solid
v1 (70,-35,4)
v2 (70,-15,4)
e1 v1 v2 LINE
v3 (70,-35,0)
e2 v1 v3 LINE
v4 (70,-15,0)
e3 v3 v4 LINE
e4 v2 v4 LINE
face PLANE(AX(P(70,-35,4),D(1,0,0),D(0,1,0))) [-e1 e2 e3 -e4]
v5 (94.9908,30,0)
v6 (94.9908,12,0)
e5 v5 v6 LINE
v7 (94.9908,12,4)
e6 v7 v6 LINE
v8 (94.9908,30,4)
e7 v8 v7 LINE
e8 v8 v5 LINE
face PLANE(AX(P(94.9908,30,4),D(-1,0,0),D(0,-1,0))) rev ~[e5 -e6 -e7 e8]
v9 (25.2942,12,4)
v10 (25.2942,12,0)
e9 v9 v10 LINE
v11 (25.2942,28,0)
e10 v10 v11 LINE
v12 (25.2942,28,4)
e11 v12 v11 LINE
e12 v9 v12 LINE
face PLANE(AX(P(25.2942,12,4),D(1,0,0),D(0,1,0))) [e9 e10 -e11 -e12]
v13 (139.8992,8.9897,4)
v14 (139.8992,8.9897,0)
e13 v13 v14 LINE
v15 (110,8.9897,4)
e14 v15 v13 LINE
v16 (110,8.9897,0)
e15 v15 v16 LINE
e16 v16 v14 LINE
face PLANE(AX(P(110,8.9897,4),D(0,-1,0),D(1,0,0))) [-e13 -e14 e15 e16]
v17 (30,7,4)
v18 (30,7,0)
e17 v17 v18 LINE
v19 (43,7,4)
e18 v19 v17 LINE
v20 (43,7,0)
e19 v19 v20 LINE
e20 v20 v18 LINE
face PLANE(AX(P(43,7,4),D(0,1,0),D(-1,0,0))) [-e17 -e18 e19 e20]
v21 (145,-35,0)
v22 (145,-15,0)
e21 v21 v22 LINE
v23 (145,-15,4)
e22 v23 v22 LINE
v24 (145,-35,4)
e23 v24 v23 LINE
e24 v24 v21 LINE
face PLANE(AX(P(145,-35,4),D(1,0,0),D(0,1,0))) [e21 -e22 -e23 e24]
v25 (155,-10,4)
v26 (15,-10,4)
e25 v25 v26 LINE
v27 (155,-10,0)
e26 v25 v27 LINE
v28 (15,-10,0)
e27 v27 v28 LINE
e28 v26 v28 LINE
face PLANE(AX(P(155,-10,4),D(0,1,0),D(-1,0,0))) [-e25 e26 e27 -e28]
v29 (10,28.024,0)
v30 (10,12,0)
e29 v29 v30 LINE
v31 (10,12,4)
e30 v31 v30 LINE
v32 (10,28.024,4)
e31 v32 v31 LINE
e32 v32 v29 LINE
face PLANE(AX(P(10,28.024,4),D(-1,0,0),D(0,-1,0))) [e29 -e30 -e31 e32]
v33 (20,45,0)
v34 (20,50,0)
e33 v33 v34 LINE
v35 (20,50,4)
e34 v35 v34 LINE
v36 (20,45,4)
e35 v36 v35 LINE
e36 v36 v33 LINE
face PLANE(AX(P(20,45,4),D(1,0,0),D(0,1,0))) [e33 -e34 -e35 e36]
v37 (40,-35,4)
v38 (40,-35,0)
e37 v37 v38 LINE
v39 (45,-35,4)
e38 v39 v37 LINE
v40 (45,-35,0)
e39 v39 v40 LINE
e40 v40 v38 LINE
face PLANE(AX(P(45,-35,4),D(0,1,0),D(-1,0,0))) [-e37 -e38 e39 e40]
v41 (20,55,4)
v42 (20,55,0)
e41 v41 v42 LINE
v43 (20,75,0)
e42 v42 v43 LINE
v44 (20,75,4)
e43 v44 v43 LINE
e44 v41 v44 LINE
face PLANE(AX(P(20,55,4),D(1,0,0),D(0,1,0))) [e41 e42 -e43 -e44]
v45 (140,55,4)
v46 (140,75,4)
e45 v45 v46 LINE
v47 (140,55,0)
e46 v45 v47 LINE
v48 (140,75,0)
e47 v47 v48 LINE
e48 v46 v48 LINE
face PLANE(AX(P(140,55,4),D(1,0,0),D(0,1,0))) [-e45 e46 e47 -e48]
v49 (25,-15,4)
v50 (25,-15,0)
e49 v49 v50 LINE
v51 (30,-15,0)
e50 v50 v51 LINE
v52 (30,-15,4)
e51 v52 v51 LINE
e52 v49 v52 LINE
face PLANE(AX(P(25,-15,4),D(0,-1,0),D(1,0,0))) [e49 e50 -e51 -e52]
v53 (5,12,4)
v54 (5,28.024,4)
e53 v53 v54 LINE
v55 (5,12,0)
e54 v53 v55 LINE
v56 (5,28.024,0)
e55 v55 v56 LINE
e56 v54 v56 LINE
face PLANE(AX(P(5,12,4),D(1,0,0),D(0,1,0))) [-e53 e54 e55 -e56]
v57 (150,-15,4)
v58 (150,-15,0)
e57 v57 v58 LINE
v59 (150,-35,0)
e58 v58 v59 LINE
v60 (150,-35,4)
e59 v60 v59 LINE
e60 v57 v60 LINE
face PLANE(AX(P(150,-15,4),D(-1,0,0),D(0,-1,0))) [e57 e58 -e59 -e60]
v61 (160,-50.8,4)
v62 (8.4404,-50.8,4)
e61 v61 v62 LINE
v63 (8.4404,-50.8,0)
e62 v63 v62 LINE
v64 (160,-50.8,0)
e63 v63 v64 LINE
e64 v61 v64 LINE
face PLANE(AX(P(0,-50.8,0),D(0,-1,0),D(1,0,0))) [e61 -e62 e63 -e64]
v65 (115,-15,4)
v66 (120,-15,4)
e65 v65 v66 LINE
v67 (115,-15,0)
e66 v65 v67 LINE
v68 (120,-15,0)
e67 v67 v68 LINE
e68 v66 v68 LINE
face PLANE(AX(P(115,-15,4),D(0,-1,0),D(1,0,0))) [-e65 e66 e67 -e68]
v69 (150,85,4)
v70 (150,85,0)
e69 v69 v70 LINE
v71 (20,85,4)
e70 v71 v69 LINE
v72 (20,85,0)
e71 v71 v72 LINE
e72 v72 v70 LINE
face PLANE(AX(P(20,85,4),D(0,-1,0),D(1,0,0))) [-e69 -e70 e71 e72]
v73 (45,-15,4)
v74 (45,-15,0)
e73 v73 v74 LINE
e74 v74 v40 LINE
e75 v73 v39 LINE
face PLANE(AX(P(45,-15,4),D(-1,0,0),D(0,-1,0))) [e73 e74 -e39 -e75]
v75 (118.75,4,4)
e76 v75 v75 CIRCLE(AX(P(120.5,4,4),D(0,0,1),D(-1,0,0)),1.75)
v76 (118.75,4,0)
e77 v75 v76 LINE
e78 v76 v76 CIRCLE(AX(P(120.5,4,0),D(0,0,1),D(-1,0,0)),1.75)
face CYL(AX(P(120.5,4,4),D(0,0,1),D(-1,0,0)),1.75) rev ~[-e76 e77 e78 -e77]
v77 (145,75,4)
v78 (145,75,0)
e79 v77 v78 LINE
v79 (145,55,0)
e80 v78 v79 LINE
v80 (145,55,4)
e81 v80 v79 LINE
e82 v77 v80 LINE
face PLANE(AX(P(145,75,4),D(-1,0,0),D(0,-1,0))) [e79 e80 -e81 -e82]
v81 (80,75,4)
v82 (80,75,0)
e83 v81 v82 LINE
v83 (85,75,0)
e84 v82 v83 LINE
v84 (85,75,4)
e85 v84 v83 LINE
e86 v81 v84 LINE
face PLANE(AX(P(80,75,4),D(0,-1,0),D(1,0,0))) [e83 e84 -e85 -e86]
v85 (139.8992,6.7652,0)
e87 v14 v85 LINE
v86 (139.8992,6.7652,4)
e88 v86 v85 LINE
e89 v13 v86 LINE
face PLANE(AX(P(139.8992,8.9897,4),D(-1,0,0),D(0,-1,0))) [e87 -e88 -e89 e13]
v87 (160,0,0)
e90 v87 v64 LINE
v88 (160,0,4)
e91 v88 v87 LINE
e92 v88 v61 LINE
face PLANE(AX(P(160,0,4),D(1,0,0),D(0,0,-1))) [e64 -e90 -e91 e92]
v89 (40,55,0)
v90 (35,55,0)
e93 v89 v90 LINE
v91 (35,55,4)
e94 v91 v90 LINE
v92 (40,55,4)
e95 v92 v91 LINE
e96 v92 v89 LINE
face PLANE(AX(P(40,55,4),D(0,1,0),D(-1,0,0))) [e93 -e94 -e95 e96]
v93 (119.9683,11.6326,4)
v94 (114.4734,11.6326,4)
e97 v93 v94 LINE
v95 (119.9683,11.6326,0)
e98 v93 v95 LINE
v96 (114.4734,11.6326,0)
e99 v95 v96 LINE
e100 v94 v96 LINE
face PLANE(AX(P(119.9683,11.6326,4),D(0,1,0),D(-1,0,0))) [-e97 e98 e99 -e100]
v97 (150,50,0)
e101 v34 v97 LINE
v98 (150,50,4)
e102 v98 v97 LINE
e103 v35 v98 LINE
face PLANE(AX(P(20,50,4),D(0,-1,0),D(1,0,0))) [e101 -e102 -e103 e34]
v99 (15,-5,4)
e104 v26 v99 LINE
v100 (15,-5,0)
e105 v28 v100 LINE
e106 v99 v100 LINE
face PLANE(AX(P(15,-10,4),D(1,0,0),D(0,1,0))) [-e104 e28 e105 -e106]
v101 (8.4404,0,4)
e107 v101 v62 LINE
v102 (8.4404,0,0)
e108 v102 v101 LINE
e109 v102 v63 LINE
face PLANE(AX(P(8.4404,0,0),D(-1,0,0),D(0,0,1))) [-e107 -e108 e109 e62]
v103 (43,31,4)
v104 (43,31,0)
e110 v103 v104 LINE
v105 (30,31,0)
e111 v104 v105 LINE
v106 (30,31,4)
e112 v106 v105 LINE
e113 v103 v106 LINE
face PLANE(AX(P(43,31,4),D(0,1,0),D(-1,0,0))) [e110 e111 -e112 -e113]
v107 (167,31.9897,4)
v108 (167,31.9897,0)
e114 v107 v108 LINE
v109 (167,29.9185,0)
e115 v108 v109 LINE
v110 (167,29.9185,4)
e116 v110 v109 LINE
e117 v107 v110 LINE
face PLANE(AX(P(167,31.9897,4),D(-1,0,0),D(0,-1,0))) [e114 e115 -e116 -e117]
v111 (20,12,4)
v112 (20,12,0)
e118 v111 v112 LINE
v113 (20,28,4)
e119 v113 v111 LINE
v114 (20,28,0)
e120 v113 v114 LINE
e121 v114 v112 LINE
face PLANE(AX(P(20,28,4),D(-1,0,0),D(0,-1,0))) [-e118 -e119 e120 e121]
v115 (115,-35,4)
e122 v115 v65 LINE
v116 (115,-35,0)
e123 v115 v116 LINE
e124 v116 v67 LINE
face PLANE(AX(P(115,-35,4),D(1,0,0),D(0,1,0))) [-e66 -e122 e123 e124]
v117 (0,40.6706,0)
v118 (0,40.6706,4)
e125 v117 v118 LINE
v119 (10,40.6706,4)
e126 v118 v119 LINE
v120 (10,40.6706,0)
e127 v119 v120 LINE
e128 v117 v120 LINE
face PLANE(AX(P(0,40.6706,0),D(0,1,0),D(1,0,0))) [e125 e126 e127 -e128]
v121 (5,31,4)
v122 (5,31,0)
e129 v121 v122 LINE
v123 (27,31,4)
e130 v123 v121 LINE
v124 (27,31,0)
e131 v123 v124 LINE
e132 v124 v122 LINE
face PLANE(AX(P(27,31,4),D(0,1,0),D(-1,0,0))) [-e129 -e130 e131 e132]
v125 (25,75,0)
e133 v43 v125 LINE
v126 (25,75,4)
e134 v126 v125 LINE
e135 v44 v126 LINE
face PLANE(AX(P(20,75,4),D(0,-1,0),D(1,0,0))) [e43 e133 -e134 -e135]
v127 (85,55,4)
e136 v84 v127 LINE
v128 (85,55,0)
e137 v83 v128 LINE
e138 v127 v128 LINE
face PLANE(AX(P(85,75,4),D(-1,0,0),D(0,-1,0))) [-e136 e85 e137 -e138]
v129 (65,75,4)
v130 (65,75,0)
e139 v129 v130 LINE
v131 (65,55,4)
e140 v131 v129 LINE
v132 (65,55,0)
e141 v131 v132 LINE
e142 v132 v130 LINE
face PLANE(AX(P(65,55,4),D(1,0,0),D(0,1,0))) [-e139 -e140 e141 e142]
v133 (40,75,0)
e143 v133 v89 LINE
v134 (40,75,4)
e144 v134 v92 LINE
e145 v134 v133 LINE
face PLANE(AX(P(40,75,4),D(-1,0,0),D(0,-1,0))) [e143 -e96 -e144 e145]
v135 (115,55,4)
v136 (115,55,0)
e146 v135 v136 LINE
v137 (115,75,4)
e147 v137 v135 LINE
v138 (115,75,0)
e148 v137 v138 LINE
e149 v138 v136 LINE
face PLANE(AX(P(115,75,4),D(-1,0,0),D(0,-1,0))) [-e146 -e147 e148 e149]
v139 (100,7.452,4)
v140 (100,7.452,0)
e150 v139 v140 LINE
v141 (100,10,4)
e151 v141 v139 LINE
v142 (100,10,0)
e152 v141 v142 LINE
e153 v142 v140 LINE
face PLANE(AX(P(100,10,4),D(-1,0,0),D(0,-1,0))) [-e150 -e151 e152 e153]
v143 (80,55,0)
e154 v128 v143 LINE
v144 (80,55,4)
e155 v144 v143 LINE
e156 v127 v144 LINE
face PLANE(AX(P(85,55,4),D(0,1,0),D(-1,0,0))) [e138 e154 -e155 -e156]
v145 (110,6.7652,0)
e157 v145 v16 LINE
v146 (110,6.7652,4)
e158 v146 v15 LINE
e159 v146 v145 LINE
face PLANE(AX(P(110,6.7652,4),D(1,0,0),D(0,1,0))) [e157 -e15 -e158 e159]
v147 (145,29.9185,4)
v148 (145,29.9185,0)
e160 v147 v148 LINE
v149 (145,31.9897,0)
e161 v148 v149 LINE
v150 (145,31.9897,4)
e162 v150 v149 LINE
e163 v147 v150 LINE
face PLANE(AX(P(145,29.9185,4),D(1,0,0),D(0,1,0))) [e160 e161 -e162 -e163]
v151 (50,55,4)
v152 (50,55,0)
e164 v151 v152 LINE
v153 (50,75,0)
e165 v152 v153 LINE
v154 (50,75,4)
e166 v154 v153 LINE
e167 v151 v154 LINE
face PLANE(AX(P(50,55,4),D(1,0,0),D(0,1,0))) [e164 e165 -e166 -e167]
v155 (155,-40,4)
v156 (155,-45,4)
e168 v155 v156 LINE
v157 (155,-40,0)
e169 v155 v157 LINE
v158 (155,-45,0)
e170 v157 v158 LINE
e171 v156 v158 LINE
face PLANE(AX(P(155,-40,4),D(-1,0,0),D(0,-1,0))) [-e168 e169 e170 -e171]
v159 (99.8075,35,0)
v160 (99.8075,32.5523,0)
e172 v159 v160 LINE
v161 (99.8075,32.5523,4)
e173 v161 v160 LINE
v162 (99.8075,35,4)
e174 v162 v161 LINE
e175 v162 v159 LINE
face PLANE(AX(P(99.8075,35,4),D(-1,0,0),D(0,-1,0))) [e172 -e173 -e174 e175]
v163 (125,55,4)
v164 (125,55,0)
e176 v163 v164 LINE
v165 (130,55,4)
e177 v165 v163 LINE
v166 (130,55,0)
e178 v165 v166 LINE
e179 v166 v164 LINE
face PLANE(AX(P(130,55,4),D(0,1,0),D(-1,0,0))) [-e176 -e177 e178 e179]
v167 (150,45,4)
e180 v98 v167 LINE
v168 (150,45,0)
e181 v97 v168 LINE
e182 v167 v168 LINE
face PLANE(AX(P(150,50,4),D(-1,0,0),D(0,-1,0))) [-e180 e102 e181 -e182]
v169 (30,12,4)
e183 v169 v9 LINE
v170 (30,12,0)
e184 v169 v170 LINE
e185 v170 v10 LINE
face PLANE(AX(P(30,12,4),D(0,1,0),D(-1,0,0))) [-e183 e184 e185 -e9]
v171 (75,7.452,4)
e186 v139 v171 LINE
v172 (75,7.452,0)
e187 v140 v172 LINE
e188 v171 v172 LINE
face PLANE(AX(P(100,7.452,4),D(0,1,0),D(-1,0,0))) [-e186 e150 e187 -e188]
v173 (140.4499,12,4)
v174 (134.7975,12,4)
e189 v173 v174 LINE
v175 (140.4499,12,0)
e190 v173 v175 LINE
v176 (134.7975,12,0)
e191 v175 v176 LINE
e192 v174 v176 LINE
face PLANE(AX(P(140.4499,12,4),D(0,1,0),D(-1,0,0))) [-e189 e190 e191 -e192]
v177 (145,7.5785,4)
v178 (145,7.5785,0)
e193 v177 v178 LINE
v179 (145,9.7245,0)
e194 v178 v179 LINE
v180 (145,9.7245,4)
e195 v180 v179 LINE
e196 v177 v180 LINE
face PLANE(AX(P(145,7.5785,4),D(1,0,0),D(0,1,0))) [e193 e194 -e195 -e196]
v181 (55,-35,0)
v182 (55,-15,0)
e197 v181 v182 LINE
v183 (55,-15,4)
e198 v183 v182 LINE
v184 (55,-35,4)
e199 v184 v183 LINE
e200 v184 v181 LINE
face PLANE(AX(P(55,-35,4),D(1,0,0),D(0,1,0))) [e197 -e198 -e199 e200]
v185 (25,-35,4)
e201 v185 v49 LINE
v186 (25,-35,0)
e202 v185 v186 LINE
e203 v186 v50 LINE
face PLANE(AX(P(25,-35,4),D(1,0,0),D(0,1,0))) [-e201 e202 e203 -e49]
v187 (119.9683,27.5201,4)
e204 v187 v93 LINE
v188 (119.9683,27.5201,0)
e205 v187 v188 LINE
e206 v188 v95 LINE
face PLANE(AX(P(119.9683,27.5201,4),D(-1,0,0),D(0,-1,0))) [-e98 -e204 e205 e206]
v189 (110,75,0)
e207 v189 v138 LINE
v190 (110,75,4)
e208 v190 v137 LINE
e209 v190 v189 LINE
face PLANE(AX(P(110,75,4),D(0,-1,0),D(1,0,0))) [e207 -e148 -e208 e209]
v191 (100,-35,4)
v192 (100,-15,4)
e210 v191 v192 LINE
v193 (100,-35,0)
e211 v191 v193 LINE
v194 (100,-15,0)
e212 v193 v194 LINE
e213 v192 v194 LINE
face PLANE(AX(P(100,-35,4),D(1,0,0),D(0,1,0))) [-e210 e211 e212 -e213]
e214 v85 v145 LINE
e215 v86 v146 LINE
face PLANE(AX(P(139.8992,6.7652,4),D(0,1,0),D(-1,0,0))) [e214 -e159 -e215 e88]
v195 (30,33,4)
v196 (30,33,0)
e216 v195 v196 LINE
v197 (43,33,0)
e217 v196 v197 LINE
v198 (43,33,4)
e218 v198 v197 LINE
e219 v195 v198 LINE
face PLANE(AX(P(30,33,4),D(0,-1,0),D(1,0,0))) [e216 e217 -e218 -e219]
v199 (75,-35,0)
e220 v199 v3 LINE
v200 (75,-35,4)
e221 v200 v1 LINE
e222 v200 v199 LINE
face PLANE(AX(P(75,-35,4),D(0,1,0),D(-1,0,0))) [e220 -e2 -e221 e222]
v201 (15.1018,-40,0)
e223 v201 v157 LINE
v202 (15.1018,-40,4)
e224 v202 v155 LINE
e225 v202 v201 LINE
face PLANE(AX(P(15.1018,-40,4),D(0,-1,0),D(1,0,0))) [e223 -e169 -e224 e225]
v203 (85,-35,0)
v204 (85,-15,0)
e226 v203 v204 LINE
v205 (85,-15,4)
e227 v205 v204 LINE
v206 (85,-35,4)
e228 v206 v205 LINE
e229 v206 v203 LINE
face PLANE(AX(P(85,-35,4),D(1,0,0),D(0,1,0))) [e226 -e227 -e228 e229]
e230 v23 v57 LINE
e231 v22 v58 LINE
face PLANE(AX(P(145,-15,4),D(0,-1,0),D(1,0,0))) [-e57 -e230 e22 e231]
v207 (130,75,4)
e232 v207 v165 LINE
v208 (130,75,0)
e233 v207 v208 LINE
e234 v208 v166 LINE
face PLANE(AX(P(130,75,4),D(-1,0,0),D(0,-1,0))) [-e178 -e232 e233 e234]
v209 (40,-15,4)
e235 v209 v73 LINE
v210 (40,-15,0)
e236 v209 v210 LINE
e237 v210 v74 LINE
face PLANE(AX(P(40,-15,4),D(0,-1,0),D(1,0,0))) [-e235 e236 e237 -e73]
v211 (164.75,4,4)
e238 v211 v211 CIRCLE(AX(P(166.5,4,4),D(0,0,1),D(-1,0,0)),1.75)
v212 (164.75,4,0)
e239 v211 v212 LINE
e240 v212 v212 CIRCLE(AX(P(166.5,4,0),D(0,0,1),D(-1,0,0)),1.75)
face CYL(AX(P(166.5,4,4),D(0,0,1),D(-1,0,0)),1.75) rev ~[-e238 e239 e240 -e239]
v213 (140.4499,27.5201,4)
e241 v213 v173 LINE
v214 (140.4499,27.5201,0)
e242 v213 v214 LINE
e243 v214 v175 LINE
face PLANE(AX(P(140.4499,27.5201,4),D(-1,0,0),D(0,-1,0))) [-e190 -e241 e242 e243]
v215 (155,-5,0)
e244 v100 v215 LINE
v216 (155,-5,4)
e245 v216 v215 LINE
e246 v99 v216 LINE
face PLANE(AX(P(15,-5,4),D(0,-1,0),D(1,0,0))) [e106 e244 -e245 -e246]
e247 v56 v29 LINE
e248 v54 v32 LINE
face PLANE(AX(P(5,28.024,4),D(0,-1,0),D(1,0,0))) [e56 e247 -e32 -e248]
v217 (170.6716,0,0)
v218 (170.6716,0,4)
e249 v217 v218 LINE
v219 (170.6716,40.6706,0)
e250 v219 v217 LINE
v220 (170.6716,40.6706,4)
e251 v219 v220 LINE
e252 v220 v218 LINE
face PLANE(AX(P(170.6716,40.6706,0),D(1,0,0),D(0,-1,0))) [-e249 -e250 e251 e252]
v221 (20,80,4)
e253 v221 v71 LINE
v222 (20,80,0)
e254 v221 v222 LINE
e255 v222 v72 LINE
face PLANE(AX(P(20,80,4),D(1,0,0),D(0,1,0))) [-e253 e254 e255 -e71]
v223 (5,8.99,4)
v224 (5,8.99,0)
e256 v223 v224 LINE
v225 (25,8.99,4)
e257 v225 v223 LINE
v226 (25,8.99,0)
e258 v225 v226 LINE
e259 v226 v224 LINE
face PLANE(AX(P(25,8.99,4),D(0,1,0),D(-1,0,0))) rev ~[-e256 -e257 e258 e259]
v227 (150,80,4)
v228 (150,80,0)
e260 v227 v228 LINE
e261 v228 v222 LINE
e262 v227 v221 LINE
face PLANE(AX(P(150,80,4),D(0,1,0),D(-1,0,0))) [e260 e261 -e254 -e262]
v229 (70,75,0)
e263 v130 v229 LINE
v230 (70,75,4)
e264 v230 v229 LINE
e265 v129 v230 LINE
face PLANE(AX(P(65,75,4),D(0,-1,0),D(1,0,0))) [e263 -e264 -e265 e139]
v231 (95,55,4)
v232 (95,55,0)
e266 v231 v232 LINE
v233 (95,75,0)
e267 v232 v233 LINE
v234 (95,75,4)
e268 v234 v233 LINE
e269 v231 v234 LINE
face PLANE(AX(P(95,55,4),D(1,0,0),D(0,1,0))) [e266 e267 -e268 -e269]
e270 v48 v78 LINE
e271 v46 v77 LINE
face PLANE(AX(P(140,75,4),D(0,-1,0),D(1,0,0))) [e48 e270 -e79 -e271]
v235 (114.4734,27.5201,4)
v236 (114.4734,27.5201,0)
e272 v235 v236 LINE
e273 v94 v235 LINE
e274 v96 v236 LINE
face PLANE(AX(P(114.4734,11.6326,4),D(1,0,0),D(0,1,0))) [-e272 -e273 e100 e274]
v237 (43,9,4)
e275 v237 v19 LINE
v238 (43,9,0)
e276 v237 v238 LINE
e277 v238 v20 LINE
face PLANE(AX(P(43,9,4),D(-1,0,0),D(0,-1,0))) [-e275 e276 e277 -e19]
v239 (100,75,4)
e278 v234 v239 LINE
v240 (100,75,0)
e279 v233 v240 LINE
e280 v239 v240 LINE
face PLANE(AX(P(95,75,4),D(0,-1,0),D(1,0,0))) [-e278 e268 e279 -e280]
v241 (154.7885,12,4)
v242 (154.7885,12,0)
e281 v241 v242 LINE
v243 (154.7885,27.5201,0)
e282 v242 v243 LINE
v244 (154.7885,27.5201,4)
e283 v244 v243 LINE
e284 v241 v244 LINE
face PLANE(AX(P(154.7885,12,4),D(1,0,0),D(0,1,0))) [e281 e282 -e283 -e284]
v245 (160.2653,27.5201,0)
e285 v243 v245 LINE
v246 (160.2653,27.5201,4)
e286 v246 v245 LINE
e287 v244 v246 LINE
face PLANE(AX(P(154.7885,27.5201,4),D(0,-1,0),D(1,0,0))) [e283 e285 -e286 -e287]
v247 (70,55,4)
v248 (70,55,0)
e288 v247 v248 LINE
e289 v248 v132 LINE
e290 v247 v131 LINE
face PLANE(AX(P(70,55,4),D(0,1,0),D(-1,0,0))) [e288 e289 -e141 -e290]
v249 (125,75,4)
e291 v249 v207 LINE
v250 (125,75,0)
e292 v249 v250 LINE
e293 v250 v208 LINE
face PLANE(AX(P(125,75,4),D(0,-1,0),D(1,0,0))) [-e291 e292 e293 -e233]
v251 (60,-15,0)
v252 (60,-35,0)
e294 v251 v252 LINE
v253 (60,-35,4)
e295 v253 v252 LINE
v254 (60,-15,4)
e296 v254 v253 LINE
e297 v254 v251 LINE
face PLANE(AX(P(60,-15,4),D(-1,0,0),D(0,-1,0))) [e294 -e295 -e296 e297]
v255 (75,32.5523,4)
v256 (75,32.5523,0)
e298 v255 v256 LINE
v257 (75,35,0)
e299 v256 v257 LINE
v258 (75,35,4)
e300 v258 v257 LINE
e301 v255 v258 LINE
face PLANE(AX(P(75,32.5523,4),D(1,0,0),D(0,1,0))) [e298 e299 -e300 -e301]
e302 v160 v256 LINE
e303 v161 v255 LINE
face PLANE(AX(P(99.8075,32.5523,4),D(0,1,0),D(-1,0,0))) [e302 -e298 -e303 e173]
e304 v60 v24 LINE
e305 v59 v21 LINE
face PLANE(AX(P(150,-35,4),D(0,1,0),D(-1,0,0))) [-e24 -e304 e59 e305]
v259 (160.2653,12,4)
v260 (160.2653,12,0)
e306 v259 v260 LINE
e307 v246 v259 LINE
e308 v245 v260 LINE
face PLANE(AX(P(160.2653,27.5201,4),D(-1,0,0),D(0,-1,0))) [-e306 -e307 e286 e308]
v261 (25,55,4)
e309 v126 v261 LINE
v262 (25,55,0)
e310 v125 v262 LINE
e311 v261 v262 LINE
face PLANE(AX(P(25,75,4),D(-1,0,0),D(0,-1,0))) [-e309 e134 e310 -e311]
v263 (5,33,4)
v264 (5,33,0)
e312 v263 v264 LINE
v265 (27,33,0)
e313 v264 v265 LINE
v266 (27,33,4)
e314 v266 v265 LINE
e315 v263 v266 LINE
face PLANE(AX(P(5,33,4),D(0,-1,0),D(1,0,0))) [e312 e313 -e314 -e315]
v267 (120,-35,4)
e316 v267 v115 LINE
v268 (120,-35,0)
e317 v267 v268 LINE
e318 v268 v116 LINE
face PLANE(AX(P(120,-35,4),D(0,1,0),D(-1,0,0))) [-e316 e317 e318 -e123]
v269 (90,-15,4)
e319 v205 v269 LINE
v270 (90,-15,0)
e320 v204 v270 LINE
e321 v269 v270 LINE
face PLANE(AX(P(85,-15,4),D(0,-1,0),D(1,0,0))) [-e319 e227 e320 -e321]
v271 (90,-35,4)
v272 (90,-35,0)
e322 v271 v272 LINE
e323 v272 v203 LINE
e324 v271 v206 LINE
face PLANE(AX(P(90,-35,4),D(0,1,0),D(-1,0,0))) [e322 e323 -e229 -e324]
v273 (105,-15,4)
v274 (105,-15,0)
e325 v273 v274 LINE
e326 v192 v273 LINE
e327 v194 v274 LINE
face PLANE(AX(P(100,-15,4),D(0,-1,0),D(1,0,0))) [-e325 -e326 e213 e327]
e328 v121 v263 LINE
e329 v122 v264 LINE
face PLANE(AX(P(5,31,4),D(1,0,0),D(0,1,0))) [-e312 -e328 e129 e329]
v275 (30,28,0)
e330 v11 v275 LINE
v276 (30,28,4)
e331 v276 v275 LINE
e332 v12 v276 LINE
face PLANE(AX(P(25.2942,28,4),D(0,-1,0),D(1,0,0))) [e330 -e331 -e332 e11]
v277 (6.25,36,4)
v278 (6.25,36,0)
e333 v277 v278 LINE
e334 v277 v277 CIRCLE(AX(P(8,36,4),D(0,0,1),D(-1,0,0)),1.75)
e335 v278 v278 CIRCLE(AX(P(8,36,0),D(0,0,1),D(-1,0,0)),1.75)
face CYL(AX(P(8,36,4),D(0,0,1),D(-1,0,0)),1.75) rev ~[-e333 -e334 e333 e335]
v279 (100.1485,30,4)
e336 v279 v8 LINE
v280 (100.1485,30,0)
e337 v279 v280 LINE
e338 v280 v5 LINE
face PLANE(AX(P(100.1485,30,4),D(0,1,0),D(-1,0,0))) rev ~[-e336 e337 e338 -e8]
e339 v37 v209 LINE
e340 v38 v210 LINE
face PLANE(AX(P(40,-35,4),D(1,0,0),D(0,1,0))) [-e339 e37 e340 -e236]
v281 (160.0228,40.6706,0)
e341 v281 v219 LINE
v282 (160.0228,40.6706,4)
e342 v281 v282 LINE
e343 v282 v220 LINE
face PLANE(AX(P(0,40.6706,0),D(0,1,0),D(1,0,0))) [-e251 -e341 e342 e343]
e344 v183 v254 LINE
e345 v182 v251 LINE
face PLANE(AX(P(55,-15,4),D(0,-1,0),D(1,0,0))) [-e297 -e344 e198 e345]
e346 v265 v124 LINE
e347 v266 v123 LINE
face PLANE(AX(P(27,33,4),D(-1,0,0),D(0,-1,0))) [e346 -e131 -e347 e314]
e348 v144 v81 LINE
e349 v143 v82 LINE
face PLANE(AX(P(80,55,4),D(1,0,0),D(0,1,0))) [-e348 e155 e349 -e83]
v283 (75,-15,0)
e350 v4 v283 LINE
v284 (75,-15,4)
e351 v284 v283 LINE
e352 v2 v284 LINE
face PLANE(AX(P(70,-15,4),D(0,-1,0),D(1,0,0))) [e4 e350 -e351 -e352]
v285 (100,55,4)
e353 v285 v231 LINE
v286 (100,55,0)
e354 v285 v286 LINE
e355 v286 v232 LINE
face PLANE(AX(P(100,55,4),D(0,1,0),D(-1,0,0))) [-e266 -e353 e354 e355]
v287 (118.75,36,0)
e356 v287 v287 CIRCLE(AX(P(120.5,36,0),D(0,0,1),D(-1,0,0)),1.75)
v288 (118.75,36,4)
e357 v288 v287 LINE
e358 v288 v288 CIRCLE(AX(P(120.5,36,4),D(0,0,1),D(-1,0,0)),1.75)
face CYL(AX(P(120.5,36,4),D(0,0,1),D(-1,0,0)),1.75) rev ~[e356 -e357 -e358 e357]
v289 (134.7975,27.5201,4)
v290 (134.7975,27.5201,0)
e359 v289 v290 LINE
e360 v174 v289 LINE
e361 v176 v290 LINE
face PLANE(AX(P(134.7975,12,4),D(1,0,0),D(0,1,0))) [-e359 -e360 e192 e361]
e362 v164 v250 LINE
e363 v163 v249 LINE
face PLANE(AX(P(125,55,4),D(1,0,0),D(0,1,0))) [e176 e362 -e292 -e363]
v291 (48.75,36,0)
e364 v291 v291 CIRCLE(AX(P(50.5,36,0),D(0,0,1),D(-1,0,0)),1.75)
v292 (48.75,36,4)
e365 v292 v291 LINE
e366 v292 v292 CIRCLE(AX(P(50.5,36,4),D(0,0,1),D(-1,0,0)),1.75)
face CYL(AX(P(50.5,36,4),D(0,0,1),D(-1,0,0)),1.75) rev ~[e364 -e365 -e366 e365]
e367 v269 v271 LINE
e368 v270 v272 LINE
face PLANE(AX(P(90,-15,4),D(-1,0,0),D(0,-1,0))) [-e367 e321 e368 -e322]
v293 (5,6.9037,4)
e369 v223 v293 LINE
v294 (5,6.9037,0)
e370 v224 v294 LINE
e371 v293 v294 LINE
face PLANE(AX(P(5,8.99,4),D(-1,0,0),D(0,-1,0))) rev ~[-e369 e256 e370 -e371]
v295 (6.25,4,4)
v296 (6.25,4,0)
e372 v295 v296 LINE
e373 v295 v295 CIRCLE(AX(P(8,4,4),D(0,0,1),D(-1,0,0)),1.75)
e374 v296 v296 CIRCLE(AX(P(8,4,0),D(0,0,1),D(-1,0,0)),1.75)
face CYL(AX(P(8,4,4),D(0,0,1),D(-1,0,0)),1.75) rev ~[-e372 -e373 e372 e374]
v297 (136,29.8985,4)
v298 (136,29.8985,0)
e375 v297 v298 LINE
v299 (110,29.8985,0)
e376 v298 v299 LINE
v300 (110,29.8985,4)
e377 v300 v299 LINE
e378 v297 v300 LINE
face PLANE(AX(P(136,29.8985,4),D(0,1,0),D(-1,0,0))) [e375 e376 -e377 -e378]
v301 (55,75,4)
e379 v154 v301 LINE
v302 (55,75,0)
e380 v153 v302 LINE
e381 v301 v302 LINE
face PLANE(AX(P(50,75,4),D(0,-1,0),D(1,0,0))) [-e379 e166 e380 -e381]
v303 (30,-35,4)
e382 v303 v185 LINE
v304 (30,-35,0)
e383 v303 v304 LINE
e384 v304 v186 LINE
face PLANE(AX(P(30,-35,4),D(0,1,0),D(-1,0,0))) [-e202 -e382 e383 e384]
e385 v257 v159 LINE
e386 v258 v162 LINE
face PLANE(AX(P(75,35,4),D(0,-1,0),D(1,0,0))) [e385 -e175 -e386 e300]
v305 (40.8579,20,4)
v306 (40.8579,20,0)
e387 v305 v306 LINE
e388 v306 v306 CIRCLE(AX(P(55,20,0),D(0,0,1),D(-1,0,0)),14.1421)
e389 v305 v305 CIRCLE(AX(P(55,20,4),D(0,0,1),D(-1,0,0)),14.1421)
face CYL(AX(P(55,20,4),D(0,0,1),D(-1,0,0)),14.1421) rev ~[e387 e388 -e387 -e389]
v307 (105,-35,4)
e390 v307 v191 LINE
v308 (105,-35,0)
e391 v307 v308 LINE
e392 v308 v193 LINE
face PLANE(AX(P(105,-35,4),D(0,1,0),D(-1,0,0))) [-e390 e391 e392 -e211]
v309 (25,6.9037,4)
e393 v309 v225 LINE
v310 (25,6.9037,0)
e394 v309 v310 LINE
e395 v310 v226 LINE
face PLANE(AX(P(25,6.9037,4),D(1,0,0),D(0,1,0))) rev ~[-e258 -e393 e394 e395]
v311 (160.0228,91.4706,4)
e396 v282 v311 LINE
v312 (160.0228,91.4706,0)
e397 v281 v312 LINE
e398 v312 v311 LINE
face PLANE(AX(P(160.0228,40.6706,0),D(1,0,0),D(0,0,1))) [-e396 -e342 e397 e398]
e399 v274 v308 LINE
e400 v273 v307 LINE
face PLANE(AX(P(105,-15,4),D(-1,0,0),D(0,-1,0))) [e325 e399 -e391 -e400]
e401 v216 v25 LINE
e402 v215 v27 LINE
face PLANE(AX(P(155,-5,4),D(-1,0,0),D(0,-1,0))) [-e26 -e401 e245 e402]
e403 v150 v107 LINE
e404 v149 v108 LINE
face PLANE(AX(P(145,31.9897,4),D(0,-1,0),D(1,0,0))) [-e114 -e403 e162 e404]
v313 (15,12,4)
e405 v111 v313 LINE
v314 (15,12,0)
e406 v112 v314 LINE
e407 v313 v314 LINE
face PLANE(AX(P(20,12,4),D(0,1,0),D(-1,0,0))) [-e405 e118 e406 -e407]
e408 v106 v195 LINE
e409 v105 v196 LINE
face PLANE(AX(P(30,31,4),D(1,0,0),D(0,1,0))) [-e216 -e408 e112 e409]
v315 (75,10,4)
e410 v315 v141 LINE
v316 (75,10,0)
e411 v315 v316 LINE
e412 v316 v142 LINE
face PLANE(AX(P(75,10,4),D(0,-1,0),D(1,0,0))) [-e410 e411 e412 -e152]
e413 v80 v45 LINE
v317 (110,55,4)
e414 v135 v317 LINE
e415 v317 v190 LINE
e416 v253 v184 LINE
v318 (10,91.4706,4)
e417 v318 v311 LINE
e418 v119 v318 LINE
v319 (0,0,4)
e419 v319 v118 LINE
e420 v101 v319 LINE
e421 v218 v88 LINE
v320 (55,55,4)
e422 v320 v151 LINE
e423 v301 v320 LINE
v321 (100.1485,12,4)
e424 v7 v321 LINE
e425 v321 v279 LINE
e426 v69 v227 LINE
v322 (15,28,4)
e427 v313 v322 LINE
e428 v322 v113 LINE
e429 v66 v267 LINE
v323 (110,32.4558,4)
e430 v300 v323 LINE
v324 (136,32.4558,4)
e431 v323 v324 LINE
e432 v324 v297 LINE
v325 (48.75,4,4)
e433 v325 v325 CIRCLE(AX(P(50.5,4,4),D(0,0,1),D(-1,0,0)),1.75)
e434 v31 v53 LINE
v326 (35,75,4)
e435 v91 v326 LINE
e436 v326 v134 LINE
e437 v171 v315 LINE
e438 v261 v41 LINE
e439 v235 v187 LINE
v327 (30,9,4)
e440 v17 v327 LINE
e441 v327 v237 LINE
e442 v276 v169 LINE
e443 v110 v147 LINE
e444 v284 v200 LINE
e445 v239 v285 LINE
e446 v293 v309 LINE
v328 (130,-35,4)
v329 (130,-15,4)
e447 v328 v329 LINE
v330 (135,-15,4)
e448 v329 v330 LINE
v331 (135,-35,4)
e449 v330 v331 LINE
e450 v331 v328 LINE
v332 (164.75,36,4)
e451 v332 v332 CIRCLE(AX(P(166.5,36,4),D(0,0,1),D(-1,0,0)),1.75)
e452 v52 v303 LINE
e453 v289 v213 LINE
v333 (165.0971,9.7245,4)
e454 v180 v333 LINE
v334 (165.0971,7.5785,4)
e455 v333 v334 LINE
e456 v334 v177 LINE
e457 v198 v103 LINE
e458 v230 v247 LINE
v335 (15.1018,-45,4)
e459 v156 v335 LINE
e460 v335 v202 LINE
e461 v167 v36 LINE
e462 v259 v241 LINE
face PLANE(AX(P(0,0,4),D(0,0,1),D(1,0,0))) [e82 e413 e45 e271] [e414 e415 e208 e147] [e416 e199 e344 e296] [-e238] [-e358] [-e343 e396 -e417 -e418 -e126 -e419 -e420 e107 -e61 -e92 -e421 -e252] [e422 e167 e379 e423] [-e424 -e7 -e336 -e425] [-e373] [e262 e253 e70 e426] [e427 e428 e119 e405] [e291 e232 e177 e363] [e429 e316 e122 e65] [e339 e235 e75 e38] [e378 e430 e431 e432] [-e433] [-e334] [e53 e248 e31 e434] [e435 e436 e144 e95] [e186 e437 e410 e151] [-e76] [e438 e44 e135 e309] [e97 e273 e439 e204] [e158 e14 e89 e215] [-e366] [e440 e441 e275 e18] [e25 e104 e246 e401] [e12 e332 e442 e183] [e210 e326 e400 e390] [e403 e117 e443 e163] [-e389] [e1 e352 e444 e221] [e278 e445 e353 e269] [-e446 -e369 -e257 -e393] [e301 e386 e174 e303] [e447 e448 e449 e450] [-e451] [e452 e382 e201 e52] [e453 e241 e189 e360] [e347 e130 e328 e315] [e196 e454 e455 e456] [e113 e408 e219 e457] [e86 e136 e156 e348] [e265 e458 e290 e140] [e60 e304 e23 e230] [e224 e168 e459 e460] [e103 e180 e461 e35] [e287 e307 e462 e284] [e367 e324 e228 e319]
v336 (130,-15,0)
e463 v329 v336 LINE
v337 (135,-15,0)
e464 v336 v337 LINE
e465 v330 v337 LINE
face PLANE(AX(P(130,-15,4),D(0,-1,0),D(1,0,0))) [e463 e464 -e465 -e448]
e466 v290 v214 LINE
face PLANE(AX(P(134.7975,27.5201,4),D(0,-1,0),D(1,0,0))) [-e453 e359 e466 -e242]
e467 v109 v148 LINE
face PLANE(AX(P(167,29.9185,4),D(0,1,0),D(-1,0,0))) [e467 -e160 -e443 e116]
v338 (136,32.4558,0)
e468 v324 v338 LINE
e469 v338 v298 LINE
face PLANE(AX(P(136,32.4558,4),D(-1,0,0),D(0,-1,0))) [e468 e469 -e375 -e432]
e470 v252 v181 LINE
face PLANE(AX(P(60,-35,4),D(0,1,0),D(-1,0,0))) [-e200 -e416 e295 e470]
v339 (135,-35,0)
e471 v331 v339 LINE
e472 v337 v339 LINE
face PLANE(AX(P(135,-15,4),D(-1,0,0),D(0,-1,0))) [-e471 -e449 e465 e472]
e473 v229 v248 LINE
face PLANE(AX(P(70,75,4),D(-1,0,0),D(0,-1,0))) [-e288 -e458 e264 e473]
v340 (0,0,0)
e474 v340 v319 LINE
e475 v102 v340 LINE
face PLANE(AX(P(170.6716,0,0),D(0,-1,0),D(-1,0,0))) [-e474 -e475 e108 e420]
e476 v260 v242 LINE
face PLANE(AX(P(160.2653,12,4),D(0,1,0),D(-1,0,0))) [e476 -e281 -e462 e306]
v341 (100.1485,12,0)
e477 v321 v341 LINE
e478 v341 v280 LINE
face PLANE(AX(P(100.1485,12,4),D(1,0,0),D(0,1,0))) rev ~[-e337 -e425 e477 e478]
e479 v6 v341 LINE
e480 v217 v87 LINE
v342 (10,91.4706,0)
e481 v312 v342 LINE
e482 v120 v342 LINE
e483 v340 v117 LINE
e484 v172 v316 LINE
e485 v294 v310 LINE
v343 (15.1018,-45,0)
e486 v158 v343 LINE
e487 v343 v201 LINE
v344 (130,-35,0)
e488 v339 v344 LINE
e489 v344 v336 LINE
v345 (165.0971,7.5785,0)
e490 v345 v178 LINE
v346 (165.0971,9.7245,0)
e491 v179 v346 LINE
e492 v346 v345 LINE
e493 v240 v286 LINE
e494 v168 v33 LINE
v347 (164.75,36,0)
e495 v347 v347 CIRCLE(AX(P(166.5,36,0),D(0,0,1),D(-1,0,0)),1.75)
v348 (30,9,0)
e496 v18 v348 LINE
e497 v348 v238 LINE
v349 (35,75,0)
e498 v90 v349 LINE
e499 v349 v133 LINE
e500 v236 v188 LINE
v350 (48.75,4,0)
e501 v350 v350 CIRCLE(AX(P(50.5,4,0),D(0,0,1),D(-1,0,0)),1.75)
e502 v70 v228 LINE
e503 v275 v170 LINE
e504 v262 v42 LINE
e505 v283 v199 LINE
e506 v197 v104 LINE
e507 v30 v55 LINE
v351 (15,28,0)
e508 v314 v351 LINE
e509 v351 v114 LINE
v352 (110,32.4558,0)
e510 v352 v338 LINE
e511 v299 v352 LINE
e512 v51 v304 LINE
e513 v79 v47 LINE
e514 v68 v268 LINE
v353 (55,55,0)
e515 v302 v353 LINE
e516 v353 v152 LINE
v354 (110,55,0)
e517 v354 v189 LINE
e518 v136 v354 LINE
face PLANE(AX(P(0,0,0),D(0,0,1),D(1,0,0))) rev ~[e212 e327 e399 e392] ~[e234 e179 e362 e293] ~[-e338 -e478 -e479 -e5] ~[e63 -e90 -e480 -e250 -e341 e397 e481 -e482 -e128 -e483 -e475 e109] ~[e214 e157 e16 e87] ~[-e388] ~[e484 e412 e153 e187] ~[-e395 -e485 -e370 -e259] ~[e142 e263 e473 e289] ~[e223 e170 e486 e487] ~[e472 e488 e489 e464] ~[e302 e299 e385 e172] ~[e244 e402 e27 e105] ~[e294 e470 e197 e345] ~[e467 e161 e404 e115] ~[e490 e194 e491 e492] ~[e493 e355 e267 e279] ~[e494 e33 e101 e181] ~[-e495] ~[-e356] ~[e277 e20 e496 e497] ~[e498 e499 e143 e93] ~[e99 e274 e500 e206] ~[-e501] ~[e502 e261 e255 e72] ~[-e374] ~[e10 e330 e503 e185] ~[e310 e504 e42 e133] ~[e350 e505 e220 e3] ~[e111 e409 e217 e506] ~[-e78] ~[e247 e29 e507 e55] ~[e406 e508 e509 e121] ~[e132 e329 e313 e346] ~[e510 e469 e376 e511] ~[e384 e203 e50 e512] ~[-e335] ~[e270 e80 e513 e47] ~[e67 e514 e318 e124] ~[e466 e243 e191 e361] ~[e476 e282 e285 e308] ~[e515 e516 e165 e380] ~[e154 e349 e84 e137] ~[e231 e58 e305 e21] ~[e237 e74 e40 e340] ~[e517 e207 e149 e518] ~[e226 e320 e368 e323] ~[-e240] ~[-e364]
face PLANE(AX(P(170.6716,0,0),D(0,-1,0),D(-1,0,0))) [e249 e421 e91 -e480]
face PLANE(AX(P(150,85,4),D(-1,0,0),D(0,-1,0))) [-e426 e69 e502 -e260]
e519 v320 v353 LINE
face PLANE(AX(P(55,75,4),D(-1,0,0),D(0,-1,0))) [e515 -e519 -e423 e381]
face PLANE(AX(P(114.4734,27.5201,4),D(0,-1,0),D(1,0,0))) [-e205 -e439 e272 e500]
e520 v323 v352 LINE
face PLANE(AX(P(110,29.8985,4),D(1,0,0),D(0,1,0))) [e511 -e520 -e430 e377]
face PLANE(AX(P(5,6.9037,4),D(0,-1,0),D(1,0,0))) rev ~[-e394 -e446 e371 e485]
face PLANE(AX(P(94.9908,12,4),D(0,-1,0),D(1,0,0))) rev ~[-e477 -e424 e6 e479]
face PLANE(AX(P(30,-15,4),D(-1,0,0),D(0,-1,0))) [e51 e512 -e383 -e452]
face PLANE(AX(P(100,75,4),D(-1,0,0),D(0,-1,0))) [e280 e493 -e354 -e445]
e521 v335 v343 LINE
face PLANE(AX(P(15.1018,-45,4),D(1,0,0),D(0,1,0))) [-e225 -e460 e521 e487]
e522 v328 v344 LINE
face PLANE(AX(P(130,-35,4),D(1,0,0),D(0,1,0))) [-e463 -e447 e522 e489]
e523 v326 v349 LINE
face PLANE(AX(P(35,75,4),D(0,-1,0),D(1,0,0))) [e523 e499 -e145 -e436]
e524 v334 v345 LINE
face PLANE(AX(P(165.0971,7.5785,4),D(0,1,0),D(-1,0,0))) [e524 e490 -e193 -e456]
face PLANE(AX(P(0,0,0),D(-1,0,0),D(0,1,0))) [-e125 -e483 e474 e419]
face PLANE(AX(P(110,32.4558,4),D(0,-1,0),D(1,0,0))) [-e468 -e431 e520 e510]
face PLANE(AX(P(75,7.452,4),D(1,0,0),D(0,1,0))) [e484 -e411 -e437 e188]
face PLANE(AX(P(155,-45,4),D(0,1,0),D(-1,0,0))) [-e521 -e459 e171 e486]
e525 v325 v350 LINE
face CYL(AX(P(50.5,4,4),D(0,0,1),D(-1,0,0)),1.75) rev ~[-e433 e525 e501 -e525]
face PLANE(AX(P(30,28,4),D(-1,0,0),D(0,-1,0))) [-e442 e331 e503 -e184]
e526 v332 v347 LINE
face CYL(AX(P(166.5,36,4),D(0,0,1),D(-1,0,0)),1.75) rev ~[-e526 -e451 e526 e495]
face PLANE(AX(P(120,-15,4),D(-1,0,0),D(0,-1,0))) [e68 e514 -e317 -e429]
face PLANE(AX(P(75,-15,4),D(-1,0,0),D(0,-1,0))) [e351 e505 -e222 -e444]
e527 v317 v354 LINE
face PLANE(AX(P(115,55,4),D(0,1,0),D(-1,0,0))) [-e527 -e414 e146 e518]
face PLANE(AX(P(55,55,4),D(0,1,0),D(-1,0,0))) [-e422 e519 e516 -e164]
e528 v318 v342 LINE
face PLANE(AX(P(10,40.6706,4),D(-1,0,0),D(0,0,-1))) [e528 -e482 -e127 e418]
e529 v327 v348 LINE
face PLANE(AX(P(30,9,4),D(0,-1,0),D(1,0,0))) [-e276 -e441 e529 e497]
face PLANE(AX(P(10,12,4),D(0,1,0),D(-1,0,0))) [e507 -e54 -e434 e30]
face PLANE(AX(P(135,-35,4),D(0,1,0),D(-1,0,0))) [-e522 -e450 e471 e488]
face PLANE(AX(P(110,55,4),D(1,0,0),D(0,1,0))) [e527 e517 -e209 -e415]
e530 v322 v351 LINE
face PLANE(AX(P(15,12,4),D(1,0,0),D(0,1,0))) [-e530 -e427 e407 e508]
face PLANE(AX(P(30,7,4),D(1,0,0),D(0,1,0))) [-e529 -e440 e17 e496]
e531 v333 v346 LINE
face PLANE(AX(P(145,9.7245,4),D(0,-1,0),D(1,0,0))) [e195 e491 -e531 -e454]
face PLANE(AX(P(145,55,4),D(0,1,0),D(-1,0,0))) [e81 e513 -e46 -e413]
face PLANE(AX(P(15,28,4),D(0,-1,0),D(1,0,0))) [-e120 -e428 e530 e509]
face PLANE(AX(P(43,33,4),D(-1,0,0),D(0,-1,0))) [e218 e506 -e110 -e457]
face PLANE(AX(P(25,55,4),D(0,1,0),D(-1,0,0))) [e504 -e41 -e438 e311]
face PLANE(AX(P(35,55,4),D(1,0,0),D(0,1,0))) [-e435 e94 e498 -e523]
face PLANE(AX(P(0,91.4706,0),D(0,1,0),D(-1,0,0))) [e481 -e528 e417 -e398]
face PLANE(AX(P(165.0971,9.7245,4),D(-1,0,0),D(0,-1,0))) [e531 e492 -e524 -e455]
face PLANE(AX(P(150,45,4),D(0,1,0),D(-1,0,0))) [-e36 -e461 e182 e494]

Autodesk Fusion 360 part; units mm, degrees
sketch "Sketch1" plane through (0, 0, 0) normal (0, 0, 1) x (1, 0, 0)
  line L0 (0, 40.6706) -> (170.6716, 40.6706)
  line L1 (170.6716, 40.6706) -> (170.6716, 0)
  line L2 (170.6716, 0) -> (0, 0)
  line L3 (0, 0) -> (0, 40.6706)
sketch "Sketch2" plane through (0, 0, 0) normal (0, 0, 1) x (1, 0, 0)
  circle A0 centre (2.5, 4) radius 1.75
  line L0 (170.6716, 0) -> (0, 0)
  line L1 (0, 0) -> (0, 40.6706)
  dimension "d1" = 3.5
  dimension "d2" = 4
  dimension "d3" = 2.5
sketch "Sketch4" plane through (0, 0, 0) normal (0, 0, 1) x (1, 0, 0)
  circle A0 centre (49.5, 4) radius 1.75
  circle A1 centre (2.5, 4) radius 1.75
  dimension "d9" = 3.5
  dimension "d10" = 47
extrude "Extrude1" add sketch "Sketch1" along normal blind 4
sketch "Sketch11" plane through (0, 0, 4) normal (0, 0, 1) x (-1, 0, 0)
  line L0 (0, 0) -> (-170.6716, 0)
  line L1 (-170.6716, 0) -> (-170.6716, -40.6706)
  line L2 (-170.6716, -40.6706) -> (0, -40.6706)
  line L3 (0, -40.6706) -> (0, 0)
  line L4 (-5, -30) -> (-150, -30)
  line L5 (-150, -30) -> (-150, -10)
  line L6 (-150, -10) -> (-5, -10)
  line L7 (-5, -10) -> (-5, -30)
sketch "Sketch13" plane through (0, 0, 4) normal (0, 0, 1) x (-1, 0, 0)
  line L0 (0, 0) -> (-170.6716, 0)
  line L1 (-170.6716, 0) -> (-170.6716, -40.6706)
  line L2 (-170.6716, -40.6706) -> (0, -40.6706)
  line L3 (0, -40.6706) -> (0, 0)
  circle A0 centre (-8, -4) radius 1.75
  circle A1 centre (-8, -36) radius 1.75
  circle A2 centre (-50.5, -36) radius 1.75
  circle A3 centre (-50.5, -4) radius 1.75
  circle A4 centre (-120.5, -4) radius 1.75
  circle A5 centre (-120.5, -36) radius 1.75
  circle A6 centre (-166.5, -4) radius 1.75
  circle A7 centre (-166.5, -36) radius 1.75
  dimension "d44" = 3.5
  dimension "d45" = 4
  dimension "d46" = 3.5
  dimension "d47" = 32
  dimension "d48" = 8
  dimension "d49" = 8
  dimension "d50" = 3.5
  dimension "d52" = 3.5
  dimension "d53" = 4
  dimension "d55" = 32
  dimension "d56" = 3.5
  dimension "d58" = 4
  dimension "d59" = 3.5
  dimension "d60" = 32
  dimension "d62" = 3.5
  dimension "d63" = 46
  dimension "d64" = 4
  dimension "d65" = 3.5
  dimension "d66" = 46
  dimension "d67" = 32
extrude "Extrude5" cut sketch "Sketch13" against normal blind 15 contours A0 | A1 | A2 | A3 | A4 | A5 | A6 | A7
sketch "Sketch16" plane through (0, 0, 4) normal (0, 0, 1) x (-1, 0, 0)
  circle A0 centre (-120.5, -36) radius 1.75
  circle A1 centre (-50.5, -36) radius 1.75
  circle A2 centre (-50.5, -4) radius 1.75
  circle A3 centre (-120.5, -4) radius 1.75
  circle A4 centre (-166.5, -36) radius 1.75
  circle A5 centre (-8, -36) radius 1.75
  circle A6 centre (-8, -4) radius 1.75
  circle A7 centre (-166.5, -4) radius 1.75
  line L0 (0, 0) -> (-170.6716, 0)
  line L1 (-170.6716, 0) -> (-170.6716, -40.6706)
  line L2 (-170.6716, -40.6706) -> (0, -40.6706)
  line L3 (0, -40.6706) -> (0, 0)
  line L4 (-5, -33) -> (-27, -33)
  line L5 (-27, -33) -> (-27, -31)
  line L6 (-27, -31) -> (-5, -31)
  line L7 (-5, -31) -> (-5, -33)
  line L8 (-5, -6.9037) -> (-25, -6.9037)
  line L9 (-25, -6.9037) -> (-25, -8.99)
  line L10 (-25, -8.99) -> (-5, -8.99)
  line L11 (-5, -8.99) -> (-5, -6.9037)
  line L12 (-5, -28.024) -> (-10, -28.024)
  line L13 (-10, -28.024) -> (-10, -12)
  line L14 (-10, -12) -> (-5, -12)
  line L15 (-5, -12) -> (-5, -28.024)
  line L16 (-15, -28) -> (-20, -28)
  line L17 (-20, -28) -> (-20, -12)
  line L18 (-20, -12) -> (-15, -12)
  line L19 (-15, -12) -> (-15, -28)
  line L20 (-25.2942, -28) -> (-30, -28)
  line L21 (-30, -28) -> (-30, -12)
  line L22 (-30, -12) -> (-25.2942, -12)
  line L23 (-25.2942, -12) -> (-25.2942, -28)
  line L24 (-30, -33) -> (-43, -33)
  line L25 (-43, -33) -> (-43, -31)
  line L26 (-43, -31) -> (-30, -31)
  line L27 (-30, -31) -> (-30, -33)
  line L28 (-30, -9) -> (-43, -9)
  line L29 (-43, -9) -> (-43, -7)
  line L30 (-43, -7) -> (-30, -7)
  line L31 (-30, -7) -> (-30, -9)
  circle A8 centre (-55, -20) radius 14.1421
  line L32 (-94.9908, -12) -> (-100.1485, -12)
  line L33 (-100.1485, -12) -> (-100.1485, -30)
  line L34 (-100.1485, -30) -> (-94.9908, -30)
  line L35 (-94.9908, -30) -> (-94.9908, -12)
  line L36 (-114.4734, -27.5201) -> (-119.9683, -27.5201)
  line L37 (-119.9683, -27.5201) -> (-119.9683, -11.6326)
  line L38 (-119.9683, -11.6326) -> (-114.4734, -11.6326)
  line L39 (-114.4734, -11.6326) -> (-114.4734, -27.5201)
  line L40 (-134.7975, -27.5201) -> (-140.4499, -27.5201)
  line L41 (-140.4499, -27.5201) -> (-140.4499, -12)
  line L42 (-140.4499, -12) -> (-134.7975, -12)
  line L43 (-134.7975, -12) -> (-134.7975, -27.5201)
  line L44 (-154.7885, -27.5201) -> (-160.2653, -27.5201)
  line L45 (-160.2653, -27.5201) -> (-160.2653, -12)
  line L46 (-160.2653, -12) -> (-154.7885, -12)
  line L47 (-154.7885, -12) -> (-154.7885, -27.5201)
  line L48 (-75, -10) -> (-100, -10)
  line L49 (-100, -10) -> (-100, -7.452)
  line L50 (-100, -7.452) -> (-75, -7.452)
  line L51 (-75, -7.452) -> (-75, -10)
  line L52 (-110, -8.9897) -> (-139.8992, -8.9897)
  line L53 (-139.8992, -8.9897) -> (-139.8992, -6.7652)
  line L54 (-139.8992, -6.7652) -> (-110, -6.7652)
  line L55 (-110, -6.7652) -> (-110, -8.9897)
  line L56 (-145, -9.7245) -> (-165.0971, -9.7245)
  line L57 (-165.0971, -9.7245) -> (-165.0971, -7.5785)
  line L58 (-165.0971, -7.5785) -> (-145, -7.5785)
  line L59 (-145, -7.5785) -> (-145, -9.7245)
  line L60 (-75, -35) -> (-99.8075, -35)
  line L61 (-99.8075, -35) -> (-99.8075, -32.5523)
  line L62 (-99.8075, -32.5523) -> (-75, -32.5523)
  line L63 (-75, -32.5523) -> (-75, -35)
  line L64 (-110, -32.4558) -> (-136, -32.4558)
  line L65 (-136, -32.4558) -> (-136, -29.8985)
  line L66 (-136, -29.8985) -> (-110, -29.8985)
  line L67 (-110, -29.8985) -> (-110, -32.4558)
  line L68 (-145, -31.9897) -> (-167, -31.9897)
  line L69 (-167, -31.9897) -> (-167, -29.9185)
  line L70 (-167, -29.9185) -> (-145, -29.9185)
  line L71 (-145, -29.9185) -> (-145, -31.9897)
  dimension "d78" = 22
  dimension "d79" = 3
  dimension "d81" = 13
  dimension "d82" = 13
extrude "Extrude8" cut sketch "Sketch16" against normal blind 15 contours L4 L5 L6 L7 | L8 L9 L10 L11 | L12 L13 L14 L15 | L16 L17 L18 L19 | L20 L21 L22 L23 | L24 L25 L26 L27 | L28 L29 L30 L31 | A8 | L32 L33 L34 L35 | L36 L37 L38 L39 | L40 L41 L42 L43 | L44 L45 L46 L47 | L48 L49 L50 L51 | L52 L53 L54 L55 | L56 L57 L58 L59 | L60 L61 L62 L63 | L64 L65 L66 L67 | L68 L69 L70 L71
sketch "Sketch17" plane through (0, 0, 0) normal (0, -1, 0) x (1, 0, 0)
  line L0 (0, 0) -> (170.6716, 0)
  line L1 (170.6716, 0) -> (170.6716, 4)
  line L2 (170.6716, 4) -> (0, 4)
  line L3 (0, 4) -> (0, 0)
  line L4 (8.4404, 4) -> (160, 4)
  line L5 (160, 4) -> (160, 0)
  line L6 (160, 0) -> (8.4404, 0)
  line L7 (8.4404, 0) -> (8.4404, 4)
extrude "Extrude9" add sketch "Sketch17" along normal blind 50.8 contours L0 L2 L4 L5 L6 L7
sketch "Sketch18" plane through (0, 40.6706, 0) normal (0, 1, 0) x (-1, 0, 0)
  line L0 (-170.6716, 0) -> (0, 0)
  line L1 (0, 0) -> (0, 4)
  line L2 (0, 4) -> (-170.6716, 4)
  line L3 (-170.6716, 4) -> (-170.6716, 0)
  line L4 (-160.0228, 4) -> (-10, 4)
  line L5 (-10, 4) -> (-10, 0)
  line L6 (-10, 0) -> (-160.0228, 0)
  line L7 (-160.0228, 0) -> (-160.0228, 4)
extrude "Extrude10" add sketch "Sketch18" along normal blind 50.8 contours L0 L2 L4 L5 L6 L7
sketch "Sketch19" plane through (0, 0, 4) normal (0, 0, 1) x (-1, 0, 0)
  line L0 (-167, -31.9897) -> (-167, -29.9185)
  line L1 (-167, -29.9185) -> (-145, -29.9185)
  line L2 (-145, -29.9185) -> (-145, -31.9897)
  line L3 (-145, -31.9897) -> (-167, -31.9897)
  line L4 (-136, -32.4558) -> (-136, -29.8985)
  line L5 (-136, -29.8985) -> (-110, -29.8985)
  line L6 (-110, -29.8985) -> (-110, -32.4558)
  line L7 (-110, -32.4558) -> (-136, -32.4558)
  line L8 (-43, -9) -> (-43, -7)
  line L9 (-43, -7) -> (-30, -7)
  line L10 (-30, -7) -> (-30, -9)
  line L11 (-30, -9) -> (-43, -9)
  line L12 (-30, -28) -> (-30, -12)
  line L13 (-30, -12) -> (-25.2942, -12)
  line L14 (-25.2942, -12) -> (-25.2942, -28)
  line L15 (-25.2942, -28) -> (-30, -28)
  circle A0 centre (-55, -20) radius 14.1421
  line L16 (-20, -28) -> (-20, -12)
  line L17 (-20, -12) -> (-15, -12)
  line L18 (-15, -12) -> (-15, -28)
  line L19 (-15, -28) -> (-20, -28)
  line L20 (-100, -10) -> (-100, -7.452)
  line L21 (-100, -7.452) -> (-75, -7.452)
  line L22 (-75, -7.452) -> (-75, -10)
  line L23 (-75, -10) -> (-100, -10)
  line L24 (-140.4499, -27.5201) -> (-140.4499, -12)
  line L25 (-140.4499, -12) -> (-134.7975, -12)
  line L26 (-134.7975, -12) -> (-134.7975, -27.5201)
  line L27 (-134.7975, -27.5201) -> (-140.4499, -27.5201)
  line L28 (-160.2653, -27.5201) -> (-160.2653, -12)
  line L29 (-160.2653, -12) -> (-154.7885, -12)
  line L30 (-154.7885, -12) -> (-154.7885, -27.5201)
  line L31 (-154.7885, -27.5201) -> (-160.2653, -27.5201)
  line L32 (-139.8992, -8.9897) -> (-139.8992, -6.7652)
  line L33 (-139.8992, -6.7652) -> (-110, -6.7652)
  line L34 (-110, -6.7652) -> (-110, -8.9897)
  line L35 (-110, -8.9897) -> (-139.8992, -8.9897)
  line L36 (-99.8075, -35) -> (-99.8075, -32.5523)
  line L37 (-99.8075, -32.5523) -> (-75, -32.5523)
  line L38 (-75, -32.5523) -> (-75, -35)
  line L39 (-75, -35) -> (-99.8075, -35)
  line L40 (-25, -6.9037) -> (-5, -6.9037)
  line L41 (-5, -6.9037) -> (-5, -8.99)
  line L42 (-5, -8.99) -> (-25, -8.99)
  line L43 (-25, -8.99) -> (-25, -6.9037)
  line L44 (-43, -33) -> (-43, -31)
  line L45 (-43, -31) -> (-30, -31)
  line L46 (-30, -31) -> (-30, -33)
  line L47 (-30, -33) -> (-43, -33)
  line L48 (-27, -33) -> (-27, -31)
  line L49 (-27, -31) -> (-5, -31)
  line L50 (-5, -31) -> (-5, -33)
  line L51 (-5, -33) -> (-27, -33)
  line L52 (-10, -28.024) -> (-10, -12)
  line L53 (-10, -12) -> (-5, -12)
  line L54 (-5, -12) -> (-5, -28.024)
  line L55 (-5, -28.024) -> (-10, -28.024)
  line L56 (-100.1485, -12) -> (-94.9908, -12)
  line L57 (-94.9908, -12) -> (-94.9908, -30)
  line L58 (-94.9908, -30) -> (-100.1485, -30)
  line L59 (-100.1485, -30) -> (-100.1485, -12)
  line L60 (-119.9683, -27.5201) -> (-119.9683, -11.6326)
  line L61 (-119.9683, -11.6326) -> (-114.4734, -11.6326)
  line L62 (-114.4734, -11.6326) -> (-114.4734, -27.5201)
  line L63 (-114.4734, -27.5201) -> (-119.9683, -27.5201)
  line L64 (-165.0971, -9.7245) -> (-165.0971, -7.5785)
  line L65 (-165.0971, -7.5785) -> (-145, -7.5785)
  line L66 (-145, -7.5785) -> (-145, -9.7245)
  line L67 (-145, -9.7245) -> (-165.0971, -9.7245)
  circle A1 centre (-120.5, -36) radius 1.75
  circle A2 centre (-50.5, -36) radius 1.75
  circle A3 centre (-50.5, -4) radius 1.75
  circle A4 centre (-120.5, -4) radius 1.75
  circle A5 centre (-166.5, -36) radius 1.75
  circle A6 centre (-8, -36) radius 1.75
  circle A7 centre (-8, -4) radius 1.75
  circle A8 centre (-166.5, -4) radius 1.75
  line L68 (0, 0) -> (-8.4404, 0)
  line L69 (-8.4404, 0) -> (-8.4404, 50.8)
  line L70 (-8.4404, 50.8) -> (-160, 50.8)
  line L71 (-160, 50.8) -> (-160, 0)
  line L72 (-160, 0) -> (-170.6716, 0)
  line L73 (-170.6716, 0) -> (-170.6716, -40.6706)
  line L74 (-170.6716, -40.6706) -> (-160.0228, -40.6706)
  line L75 (-160.0228, -40.6706) -> (-160.0228, -91.4706)
  line L76 (-160.0228, -91.4706) -> (-10, -91.4706)
  line L77 (-10, -91.4706) -> (-10, -40.6706)
  line L78 (-10, -40.6706) -> (0, -40.6706)
  line L79 (0, -40.6706) -> (0, 0)
  line L80 (-155, 45) -> (-15.1018, 45)
  line L81 (-15.1018, 45) -> (-15.1018, 40)
  line L82 (-15.1018, 40) -> (-155, 40)
  line L83 (-155, 40) -> (-155, 45)
  line L84 (-155, 10) -> (-15, 10)
  line L85 (-15, 10) -> (-15, 5)
  line L86 (-15, 5) -> (-155, 5)
  line L87 (-155, 5) -> (-155, 10)
  line L88 (-150, 35) -> (-145, 35)
  line L89 (-145, 35) -> (-145, 15)
  line L90 (-145, 15) -> (-150, 15)
  line L91 (-150, 15) -> (-150, 35)
  line L92 (-135, 35) -> (-130, 35)
  line L93 (-130, 35) -> (-130, 15)
  line L94 (-130, 15) -> (-135, 15)
  line L95 (-135, 15) -> (-135, 35)
  line L96 (-120, 35) -> (-115, 35)
  line L97 (-115, 35) -> (-115, 15)
  line L98 (-115, 15) -> (-120, 15)
  line L99 (-120, 15) -> (-120, 35)
  line L100 (-105, 35) -> (-100, 35)
  line L101 (-100, 35) -> (-100, 15)
  line L102 (-100, 15) -> (-105, 15)
  line L103 (-105, 15) -> (-105, 35)
  line L104 (-90, 35) -> (-85, 35)
  line L105 (-85, 35) -> (-85, 15)
  line L106 (-85, 15) -> (-90, 15)
  line L107 (-90, 15) -> (-90, 35)
  line L108 (-75, 35) -> (-70, 35)
  line L109 (-70, 35) -> (-70, 15)
  line L110 (-70, 15) -> (-75, 15)
  line L111 (-75, 15) -> (-75, 35)
  line L112 (-60, 35) -> (-55, 35)
  line L113 (-55, 35) -> (-55, 15)
  line L114 (-55, 15) -> (-60, 15)
  line L115 (-60, 15) -> (-60, 35)
  line L116 (-45, 35) -> (-40, 35)
  line L117 (-40, 35) -> (-40, 15)
  line L118 (-40, 15) -> (-45, 15)
  line L119 (-45, 15) -> (-45, 35)
  line L120 (-30, 35) -> (-25, 35)
  line L121 (-25, 35) -> (-25, 15)
  line L122 (-25, 15) -> (-30, 15)
  line L123 (-30, 15) -> (-30, 35)
  line L124 (-150, -80) -> (-20, -80)
  line L125 (-20, -80) -> (-20, -85)
  line L126 (-20, -85) -> (-150, -85)
  line L127 (-150, -85) -> (-150, -80)
  line L128 (-150, -45) -> (-20, -45)
  line L129 (-20, -45) -> (-20, -50)
  line L130 (-20, -50) -> (-150, -50)
  line L131 (-150, -50) -> (-150, -45)
  line L132 (-145, -55) -> (-140, -55)
  line L133 (-140, -55) -> (-140, -75)
  line L134 (-140, -75) -> (-145, -75)
  line L135 (-145, -75) -> (-145, -55)
  line L136 (-130, -55) -> (-125, -55)
  line L137 (-125, -55) -> (-125, -75)
  line L138 (-125, -75) -> (-130, -75)
  line L139 (-130, -75) -> (-130, -55)
  line L140 (-115, -55) -> (-110, -55)
  line L141 (-110, -55) -> (-110, -75)
  line L142 (-110, -75) -> (-115, -75)
  line L143 (-115, -75) -> (-115, -55)
  line L144 (-100, -55) -> (-95, -55)
  line L145 (-95, -55) -> (-95, -75)
  line L146 (-95, -75) -> (-100, -75)
  line L147 (-100, -75) -> (-100, -55)
  line L148 (-85, -55) -> (-80, -55)
  line L149 (-80, -55) -> (-80, -75)
  line L150 (-80, -75) -> (-85, -75)
  line L151 (-85, -75) -> (-85, -55)
  line L152 (-70, -55) -> (-65, -55)
  line L153 (-65, -55) -> (-65, -75)
  line L154 (-65, -75) -> (-70, -75)
  line L155 (-70, -75) -> (-70, -55)
  line L156 (-55, -55) -> (-50, -55)
  line L157 (-50, -55) -> (-50, -75)
  line L158 (-50, -75) -> (-55, -75)
  line L159 (-55, -75) -> (-55, -55)
  line L160 (-40, -55) -> (-35, -55)
  line L161 (-35, -55) -> (-35, -75)
  line L162 (-35, -75) -> (-40, -75)
  line L163 (-40, -75) -> (-40, -55)
  line L164 (-25, -55) -> (-20, -55)
  line L165 (-20, -55) -> (-20, -75)
  line L166 (-20, -75) -> (-25, -75)
  line L167 (-25, -75) -> (-25, -55)
extrude "Extrude11" cut sketch "Sketch19" against normal blind 20 contours L80 L81 L82 L83 | L84 L85 L86 L87 | L88 L89 L90 L91 | L92 L93 L94 L95 | L96 L97 L98 L99 | L100 L101 L102 L103 | L104 L105 L106 L107 | L108 L109 L110 L111 | L112 L113 L114 L115 | L116 L117 L118 L119 | L120 L121 L122 L123 | L124 L125 L126 L127 | L128 L129 L130 L131 | L132 L133 L134 L135 | L136 L137 L138 L139 | L140 L141 L142 L143 | L144 L145 L146 L147 | L148 L149 L150 L151 | L152 L153 L154 L155 | L156 L157 L158 L159 | L160 L161 L162 L163 | L164 L165 L166 L167
